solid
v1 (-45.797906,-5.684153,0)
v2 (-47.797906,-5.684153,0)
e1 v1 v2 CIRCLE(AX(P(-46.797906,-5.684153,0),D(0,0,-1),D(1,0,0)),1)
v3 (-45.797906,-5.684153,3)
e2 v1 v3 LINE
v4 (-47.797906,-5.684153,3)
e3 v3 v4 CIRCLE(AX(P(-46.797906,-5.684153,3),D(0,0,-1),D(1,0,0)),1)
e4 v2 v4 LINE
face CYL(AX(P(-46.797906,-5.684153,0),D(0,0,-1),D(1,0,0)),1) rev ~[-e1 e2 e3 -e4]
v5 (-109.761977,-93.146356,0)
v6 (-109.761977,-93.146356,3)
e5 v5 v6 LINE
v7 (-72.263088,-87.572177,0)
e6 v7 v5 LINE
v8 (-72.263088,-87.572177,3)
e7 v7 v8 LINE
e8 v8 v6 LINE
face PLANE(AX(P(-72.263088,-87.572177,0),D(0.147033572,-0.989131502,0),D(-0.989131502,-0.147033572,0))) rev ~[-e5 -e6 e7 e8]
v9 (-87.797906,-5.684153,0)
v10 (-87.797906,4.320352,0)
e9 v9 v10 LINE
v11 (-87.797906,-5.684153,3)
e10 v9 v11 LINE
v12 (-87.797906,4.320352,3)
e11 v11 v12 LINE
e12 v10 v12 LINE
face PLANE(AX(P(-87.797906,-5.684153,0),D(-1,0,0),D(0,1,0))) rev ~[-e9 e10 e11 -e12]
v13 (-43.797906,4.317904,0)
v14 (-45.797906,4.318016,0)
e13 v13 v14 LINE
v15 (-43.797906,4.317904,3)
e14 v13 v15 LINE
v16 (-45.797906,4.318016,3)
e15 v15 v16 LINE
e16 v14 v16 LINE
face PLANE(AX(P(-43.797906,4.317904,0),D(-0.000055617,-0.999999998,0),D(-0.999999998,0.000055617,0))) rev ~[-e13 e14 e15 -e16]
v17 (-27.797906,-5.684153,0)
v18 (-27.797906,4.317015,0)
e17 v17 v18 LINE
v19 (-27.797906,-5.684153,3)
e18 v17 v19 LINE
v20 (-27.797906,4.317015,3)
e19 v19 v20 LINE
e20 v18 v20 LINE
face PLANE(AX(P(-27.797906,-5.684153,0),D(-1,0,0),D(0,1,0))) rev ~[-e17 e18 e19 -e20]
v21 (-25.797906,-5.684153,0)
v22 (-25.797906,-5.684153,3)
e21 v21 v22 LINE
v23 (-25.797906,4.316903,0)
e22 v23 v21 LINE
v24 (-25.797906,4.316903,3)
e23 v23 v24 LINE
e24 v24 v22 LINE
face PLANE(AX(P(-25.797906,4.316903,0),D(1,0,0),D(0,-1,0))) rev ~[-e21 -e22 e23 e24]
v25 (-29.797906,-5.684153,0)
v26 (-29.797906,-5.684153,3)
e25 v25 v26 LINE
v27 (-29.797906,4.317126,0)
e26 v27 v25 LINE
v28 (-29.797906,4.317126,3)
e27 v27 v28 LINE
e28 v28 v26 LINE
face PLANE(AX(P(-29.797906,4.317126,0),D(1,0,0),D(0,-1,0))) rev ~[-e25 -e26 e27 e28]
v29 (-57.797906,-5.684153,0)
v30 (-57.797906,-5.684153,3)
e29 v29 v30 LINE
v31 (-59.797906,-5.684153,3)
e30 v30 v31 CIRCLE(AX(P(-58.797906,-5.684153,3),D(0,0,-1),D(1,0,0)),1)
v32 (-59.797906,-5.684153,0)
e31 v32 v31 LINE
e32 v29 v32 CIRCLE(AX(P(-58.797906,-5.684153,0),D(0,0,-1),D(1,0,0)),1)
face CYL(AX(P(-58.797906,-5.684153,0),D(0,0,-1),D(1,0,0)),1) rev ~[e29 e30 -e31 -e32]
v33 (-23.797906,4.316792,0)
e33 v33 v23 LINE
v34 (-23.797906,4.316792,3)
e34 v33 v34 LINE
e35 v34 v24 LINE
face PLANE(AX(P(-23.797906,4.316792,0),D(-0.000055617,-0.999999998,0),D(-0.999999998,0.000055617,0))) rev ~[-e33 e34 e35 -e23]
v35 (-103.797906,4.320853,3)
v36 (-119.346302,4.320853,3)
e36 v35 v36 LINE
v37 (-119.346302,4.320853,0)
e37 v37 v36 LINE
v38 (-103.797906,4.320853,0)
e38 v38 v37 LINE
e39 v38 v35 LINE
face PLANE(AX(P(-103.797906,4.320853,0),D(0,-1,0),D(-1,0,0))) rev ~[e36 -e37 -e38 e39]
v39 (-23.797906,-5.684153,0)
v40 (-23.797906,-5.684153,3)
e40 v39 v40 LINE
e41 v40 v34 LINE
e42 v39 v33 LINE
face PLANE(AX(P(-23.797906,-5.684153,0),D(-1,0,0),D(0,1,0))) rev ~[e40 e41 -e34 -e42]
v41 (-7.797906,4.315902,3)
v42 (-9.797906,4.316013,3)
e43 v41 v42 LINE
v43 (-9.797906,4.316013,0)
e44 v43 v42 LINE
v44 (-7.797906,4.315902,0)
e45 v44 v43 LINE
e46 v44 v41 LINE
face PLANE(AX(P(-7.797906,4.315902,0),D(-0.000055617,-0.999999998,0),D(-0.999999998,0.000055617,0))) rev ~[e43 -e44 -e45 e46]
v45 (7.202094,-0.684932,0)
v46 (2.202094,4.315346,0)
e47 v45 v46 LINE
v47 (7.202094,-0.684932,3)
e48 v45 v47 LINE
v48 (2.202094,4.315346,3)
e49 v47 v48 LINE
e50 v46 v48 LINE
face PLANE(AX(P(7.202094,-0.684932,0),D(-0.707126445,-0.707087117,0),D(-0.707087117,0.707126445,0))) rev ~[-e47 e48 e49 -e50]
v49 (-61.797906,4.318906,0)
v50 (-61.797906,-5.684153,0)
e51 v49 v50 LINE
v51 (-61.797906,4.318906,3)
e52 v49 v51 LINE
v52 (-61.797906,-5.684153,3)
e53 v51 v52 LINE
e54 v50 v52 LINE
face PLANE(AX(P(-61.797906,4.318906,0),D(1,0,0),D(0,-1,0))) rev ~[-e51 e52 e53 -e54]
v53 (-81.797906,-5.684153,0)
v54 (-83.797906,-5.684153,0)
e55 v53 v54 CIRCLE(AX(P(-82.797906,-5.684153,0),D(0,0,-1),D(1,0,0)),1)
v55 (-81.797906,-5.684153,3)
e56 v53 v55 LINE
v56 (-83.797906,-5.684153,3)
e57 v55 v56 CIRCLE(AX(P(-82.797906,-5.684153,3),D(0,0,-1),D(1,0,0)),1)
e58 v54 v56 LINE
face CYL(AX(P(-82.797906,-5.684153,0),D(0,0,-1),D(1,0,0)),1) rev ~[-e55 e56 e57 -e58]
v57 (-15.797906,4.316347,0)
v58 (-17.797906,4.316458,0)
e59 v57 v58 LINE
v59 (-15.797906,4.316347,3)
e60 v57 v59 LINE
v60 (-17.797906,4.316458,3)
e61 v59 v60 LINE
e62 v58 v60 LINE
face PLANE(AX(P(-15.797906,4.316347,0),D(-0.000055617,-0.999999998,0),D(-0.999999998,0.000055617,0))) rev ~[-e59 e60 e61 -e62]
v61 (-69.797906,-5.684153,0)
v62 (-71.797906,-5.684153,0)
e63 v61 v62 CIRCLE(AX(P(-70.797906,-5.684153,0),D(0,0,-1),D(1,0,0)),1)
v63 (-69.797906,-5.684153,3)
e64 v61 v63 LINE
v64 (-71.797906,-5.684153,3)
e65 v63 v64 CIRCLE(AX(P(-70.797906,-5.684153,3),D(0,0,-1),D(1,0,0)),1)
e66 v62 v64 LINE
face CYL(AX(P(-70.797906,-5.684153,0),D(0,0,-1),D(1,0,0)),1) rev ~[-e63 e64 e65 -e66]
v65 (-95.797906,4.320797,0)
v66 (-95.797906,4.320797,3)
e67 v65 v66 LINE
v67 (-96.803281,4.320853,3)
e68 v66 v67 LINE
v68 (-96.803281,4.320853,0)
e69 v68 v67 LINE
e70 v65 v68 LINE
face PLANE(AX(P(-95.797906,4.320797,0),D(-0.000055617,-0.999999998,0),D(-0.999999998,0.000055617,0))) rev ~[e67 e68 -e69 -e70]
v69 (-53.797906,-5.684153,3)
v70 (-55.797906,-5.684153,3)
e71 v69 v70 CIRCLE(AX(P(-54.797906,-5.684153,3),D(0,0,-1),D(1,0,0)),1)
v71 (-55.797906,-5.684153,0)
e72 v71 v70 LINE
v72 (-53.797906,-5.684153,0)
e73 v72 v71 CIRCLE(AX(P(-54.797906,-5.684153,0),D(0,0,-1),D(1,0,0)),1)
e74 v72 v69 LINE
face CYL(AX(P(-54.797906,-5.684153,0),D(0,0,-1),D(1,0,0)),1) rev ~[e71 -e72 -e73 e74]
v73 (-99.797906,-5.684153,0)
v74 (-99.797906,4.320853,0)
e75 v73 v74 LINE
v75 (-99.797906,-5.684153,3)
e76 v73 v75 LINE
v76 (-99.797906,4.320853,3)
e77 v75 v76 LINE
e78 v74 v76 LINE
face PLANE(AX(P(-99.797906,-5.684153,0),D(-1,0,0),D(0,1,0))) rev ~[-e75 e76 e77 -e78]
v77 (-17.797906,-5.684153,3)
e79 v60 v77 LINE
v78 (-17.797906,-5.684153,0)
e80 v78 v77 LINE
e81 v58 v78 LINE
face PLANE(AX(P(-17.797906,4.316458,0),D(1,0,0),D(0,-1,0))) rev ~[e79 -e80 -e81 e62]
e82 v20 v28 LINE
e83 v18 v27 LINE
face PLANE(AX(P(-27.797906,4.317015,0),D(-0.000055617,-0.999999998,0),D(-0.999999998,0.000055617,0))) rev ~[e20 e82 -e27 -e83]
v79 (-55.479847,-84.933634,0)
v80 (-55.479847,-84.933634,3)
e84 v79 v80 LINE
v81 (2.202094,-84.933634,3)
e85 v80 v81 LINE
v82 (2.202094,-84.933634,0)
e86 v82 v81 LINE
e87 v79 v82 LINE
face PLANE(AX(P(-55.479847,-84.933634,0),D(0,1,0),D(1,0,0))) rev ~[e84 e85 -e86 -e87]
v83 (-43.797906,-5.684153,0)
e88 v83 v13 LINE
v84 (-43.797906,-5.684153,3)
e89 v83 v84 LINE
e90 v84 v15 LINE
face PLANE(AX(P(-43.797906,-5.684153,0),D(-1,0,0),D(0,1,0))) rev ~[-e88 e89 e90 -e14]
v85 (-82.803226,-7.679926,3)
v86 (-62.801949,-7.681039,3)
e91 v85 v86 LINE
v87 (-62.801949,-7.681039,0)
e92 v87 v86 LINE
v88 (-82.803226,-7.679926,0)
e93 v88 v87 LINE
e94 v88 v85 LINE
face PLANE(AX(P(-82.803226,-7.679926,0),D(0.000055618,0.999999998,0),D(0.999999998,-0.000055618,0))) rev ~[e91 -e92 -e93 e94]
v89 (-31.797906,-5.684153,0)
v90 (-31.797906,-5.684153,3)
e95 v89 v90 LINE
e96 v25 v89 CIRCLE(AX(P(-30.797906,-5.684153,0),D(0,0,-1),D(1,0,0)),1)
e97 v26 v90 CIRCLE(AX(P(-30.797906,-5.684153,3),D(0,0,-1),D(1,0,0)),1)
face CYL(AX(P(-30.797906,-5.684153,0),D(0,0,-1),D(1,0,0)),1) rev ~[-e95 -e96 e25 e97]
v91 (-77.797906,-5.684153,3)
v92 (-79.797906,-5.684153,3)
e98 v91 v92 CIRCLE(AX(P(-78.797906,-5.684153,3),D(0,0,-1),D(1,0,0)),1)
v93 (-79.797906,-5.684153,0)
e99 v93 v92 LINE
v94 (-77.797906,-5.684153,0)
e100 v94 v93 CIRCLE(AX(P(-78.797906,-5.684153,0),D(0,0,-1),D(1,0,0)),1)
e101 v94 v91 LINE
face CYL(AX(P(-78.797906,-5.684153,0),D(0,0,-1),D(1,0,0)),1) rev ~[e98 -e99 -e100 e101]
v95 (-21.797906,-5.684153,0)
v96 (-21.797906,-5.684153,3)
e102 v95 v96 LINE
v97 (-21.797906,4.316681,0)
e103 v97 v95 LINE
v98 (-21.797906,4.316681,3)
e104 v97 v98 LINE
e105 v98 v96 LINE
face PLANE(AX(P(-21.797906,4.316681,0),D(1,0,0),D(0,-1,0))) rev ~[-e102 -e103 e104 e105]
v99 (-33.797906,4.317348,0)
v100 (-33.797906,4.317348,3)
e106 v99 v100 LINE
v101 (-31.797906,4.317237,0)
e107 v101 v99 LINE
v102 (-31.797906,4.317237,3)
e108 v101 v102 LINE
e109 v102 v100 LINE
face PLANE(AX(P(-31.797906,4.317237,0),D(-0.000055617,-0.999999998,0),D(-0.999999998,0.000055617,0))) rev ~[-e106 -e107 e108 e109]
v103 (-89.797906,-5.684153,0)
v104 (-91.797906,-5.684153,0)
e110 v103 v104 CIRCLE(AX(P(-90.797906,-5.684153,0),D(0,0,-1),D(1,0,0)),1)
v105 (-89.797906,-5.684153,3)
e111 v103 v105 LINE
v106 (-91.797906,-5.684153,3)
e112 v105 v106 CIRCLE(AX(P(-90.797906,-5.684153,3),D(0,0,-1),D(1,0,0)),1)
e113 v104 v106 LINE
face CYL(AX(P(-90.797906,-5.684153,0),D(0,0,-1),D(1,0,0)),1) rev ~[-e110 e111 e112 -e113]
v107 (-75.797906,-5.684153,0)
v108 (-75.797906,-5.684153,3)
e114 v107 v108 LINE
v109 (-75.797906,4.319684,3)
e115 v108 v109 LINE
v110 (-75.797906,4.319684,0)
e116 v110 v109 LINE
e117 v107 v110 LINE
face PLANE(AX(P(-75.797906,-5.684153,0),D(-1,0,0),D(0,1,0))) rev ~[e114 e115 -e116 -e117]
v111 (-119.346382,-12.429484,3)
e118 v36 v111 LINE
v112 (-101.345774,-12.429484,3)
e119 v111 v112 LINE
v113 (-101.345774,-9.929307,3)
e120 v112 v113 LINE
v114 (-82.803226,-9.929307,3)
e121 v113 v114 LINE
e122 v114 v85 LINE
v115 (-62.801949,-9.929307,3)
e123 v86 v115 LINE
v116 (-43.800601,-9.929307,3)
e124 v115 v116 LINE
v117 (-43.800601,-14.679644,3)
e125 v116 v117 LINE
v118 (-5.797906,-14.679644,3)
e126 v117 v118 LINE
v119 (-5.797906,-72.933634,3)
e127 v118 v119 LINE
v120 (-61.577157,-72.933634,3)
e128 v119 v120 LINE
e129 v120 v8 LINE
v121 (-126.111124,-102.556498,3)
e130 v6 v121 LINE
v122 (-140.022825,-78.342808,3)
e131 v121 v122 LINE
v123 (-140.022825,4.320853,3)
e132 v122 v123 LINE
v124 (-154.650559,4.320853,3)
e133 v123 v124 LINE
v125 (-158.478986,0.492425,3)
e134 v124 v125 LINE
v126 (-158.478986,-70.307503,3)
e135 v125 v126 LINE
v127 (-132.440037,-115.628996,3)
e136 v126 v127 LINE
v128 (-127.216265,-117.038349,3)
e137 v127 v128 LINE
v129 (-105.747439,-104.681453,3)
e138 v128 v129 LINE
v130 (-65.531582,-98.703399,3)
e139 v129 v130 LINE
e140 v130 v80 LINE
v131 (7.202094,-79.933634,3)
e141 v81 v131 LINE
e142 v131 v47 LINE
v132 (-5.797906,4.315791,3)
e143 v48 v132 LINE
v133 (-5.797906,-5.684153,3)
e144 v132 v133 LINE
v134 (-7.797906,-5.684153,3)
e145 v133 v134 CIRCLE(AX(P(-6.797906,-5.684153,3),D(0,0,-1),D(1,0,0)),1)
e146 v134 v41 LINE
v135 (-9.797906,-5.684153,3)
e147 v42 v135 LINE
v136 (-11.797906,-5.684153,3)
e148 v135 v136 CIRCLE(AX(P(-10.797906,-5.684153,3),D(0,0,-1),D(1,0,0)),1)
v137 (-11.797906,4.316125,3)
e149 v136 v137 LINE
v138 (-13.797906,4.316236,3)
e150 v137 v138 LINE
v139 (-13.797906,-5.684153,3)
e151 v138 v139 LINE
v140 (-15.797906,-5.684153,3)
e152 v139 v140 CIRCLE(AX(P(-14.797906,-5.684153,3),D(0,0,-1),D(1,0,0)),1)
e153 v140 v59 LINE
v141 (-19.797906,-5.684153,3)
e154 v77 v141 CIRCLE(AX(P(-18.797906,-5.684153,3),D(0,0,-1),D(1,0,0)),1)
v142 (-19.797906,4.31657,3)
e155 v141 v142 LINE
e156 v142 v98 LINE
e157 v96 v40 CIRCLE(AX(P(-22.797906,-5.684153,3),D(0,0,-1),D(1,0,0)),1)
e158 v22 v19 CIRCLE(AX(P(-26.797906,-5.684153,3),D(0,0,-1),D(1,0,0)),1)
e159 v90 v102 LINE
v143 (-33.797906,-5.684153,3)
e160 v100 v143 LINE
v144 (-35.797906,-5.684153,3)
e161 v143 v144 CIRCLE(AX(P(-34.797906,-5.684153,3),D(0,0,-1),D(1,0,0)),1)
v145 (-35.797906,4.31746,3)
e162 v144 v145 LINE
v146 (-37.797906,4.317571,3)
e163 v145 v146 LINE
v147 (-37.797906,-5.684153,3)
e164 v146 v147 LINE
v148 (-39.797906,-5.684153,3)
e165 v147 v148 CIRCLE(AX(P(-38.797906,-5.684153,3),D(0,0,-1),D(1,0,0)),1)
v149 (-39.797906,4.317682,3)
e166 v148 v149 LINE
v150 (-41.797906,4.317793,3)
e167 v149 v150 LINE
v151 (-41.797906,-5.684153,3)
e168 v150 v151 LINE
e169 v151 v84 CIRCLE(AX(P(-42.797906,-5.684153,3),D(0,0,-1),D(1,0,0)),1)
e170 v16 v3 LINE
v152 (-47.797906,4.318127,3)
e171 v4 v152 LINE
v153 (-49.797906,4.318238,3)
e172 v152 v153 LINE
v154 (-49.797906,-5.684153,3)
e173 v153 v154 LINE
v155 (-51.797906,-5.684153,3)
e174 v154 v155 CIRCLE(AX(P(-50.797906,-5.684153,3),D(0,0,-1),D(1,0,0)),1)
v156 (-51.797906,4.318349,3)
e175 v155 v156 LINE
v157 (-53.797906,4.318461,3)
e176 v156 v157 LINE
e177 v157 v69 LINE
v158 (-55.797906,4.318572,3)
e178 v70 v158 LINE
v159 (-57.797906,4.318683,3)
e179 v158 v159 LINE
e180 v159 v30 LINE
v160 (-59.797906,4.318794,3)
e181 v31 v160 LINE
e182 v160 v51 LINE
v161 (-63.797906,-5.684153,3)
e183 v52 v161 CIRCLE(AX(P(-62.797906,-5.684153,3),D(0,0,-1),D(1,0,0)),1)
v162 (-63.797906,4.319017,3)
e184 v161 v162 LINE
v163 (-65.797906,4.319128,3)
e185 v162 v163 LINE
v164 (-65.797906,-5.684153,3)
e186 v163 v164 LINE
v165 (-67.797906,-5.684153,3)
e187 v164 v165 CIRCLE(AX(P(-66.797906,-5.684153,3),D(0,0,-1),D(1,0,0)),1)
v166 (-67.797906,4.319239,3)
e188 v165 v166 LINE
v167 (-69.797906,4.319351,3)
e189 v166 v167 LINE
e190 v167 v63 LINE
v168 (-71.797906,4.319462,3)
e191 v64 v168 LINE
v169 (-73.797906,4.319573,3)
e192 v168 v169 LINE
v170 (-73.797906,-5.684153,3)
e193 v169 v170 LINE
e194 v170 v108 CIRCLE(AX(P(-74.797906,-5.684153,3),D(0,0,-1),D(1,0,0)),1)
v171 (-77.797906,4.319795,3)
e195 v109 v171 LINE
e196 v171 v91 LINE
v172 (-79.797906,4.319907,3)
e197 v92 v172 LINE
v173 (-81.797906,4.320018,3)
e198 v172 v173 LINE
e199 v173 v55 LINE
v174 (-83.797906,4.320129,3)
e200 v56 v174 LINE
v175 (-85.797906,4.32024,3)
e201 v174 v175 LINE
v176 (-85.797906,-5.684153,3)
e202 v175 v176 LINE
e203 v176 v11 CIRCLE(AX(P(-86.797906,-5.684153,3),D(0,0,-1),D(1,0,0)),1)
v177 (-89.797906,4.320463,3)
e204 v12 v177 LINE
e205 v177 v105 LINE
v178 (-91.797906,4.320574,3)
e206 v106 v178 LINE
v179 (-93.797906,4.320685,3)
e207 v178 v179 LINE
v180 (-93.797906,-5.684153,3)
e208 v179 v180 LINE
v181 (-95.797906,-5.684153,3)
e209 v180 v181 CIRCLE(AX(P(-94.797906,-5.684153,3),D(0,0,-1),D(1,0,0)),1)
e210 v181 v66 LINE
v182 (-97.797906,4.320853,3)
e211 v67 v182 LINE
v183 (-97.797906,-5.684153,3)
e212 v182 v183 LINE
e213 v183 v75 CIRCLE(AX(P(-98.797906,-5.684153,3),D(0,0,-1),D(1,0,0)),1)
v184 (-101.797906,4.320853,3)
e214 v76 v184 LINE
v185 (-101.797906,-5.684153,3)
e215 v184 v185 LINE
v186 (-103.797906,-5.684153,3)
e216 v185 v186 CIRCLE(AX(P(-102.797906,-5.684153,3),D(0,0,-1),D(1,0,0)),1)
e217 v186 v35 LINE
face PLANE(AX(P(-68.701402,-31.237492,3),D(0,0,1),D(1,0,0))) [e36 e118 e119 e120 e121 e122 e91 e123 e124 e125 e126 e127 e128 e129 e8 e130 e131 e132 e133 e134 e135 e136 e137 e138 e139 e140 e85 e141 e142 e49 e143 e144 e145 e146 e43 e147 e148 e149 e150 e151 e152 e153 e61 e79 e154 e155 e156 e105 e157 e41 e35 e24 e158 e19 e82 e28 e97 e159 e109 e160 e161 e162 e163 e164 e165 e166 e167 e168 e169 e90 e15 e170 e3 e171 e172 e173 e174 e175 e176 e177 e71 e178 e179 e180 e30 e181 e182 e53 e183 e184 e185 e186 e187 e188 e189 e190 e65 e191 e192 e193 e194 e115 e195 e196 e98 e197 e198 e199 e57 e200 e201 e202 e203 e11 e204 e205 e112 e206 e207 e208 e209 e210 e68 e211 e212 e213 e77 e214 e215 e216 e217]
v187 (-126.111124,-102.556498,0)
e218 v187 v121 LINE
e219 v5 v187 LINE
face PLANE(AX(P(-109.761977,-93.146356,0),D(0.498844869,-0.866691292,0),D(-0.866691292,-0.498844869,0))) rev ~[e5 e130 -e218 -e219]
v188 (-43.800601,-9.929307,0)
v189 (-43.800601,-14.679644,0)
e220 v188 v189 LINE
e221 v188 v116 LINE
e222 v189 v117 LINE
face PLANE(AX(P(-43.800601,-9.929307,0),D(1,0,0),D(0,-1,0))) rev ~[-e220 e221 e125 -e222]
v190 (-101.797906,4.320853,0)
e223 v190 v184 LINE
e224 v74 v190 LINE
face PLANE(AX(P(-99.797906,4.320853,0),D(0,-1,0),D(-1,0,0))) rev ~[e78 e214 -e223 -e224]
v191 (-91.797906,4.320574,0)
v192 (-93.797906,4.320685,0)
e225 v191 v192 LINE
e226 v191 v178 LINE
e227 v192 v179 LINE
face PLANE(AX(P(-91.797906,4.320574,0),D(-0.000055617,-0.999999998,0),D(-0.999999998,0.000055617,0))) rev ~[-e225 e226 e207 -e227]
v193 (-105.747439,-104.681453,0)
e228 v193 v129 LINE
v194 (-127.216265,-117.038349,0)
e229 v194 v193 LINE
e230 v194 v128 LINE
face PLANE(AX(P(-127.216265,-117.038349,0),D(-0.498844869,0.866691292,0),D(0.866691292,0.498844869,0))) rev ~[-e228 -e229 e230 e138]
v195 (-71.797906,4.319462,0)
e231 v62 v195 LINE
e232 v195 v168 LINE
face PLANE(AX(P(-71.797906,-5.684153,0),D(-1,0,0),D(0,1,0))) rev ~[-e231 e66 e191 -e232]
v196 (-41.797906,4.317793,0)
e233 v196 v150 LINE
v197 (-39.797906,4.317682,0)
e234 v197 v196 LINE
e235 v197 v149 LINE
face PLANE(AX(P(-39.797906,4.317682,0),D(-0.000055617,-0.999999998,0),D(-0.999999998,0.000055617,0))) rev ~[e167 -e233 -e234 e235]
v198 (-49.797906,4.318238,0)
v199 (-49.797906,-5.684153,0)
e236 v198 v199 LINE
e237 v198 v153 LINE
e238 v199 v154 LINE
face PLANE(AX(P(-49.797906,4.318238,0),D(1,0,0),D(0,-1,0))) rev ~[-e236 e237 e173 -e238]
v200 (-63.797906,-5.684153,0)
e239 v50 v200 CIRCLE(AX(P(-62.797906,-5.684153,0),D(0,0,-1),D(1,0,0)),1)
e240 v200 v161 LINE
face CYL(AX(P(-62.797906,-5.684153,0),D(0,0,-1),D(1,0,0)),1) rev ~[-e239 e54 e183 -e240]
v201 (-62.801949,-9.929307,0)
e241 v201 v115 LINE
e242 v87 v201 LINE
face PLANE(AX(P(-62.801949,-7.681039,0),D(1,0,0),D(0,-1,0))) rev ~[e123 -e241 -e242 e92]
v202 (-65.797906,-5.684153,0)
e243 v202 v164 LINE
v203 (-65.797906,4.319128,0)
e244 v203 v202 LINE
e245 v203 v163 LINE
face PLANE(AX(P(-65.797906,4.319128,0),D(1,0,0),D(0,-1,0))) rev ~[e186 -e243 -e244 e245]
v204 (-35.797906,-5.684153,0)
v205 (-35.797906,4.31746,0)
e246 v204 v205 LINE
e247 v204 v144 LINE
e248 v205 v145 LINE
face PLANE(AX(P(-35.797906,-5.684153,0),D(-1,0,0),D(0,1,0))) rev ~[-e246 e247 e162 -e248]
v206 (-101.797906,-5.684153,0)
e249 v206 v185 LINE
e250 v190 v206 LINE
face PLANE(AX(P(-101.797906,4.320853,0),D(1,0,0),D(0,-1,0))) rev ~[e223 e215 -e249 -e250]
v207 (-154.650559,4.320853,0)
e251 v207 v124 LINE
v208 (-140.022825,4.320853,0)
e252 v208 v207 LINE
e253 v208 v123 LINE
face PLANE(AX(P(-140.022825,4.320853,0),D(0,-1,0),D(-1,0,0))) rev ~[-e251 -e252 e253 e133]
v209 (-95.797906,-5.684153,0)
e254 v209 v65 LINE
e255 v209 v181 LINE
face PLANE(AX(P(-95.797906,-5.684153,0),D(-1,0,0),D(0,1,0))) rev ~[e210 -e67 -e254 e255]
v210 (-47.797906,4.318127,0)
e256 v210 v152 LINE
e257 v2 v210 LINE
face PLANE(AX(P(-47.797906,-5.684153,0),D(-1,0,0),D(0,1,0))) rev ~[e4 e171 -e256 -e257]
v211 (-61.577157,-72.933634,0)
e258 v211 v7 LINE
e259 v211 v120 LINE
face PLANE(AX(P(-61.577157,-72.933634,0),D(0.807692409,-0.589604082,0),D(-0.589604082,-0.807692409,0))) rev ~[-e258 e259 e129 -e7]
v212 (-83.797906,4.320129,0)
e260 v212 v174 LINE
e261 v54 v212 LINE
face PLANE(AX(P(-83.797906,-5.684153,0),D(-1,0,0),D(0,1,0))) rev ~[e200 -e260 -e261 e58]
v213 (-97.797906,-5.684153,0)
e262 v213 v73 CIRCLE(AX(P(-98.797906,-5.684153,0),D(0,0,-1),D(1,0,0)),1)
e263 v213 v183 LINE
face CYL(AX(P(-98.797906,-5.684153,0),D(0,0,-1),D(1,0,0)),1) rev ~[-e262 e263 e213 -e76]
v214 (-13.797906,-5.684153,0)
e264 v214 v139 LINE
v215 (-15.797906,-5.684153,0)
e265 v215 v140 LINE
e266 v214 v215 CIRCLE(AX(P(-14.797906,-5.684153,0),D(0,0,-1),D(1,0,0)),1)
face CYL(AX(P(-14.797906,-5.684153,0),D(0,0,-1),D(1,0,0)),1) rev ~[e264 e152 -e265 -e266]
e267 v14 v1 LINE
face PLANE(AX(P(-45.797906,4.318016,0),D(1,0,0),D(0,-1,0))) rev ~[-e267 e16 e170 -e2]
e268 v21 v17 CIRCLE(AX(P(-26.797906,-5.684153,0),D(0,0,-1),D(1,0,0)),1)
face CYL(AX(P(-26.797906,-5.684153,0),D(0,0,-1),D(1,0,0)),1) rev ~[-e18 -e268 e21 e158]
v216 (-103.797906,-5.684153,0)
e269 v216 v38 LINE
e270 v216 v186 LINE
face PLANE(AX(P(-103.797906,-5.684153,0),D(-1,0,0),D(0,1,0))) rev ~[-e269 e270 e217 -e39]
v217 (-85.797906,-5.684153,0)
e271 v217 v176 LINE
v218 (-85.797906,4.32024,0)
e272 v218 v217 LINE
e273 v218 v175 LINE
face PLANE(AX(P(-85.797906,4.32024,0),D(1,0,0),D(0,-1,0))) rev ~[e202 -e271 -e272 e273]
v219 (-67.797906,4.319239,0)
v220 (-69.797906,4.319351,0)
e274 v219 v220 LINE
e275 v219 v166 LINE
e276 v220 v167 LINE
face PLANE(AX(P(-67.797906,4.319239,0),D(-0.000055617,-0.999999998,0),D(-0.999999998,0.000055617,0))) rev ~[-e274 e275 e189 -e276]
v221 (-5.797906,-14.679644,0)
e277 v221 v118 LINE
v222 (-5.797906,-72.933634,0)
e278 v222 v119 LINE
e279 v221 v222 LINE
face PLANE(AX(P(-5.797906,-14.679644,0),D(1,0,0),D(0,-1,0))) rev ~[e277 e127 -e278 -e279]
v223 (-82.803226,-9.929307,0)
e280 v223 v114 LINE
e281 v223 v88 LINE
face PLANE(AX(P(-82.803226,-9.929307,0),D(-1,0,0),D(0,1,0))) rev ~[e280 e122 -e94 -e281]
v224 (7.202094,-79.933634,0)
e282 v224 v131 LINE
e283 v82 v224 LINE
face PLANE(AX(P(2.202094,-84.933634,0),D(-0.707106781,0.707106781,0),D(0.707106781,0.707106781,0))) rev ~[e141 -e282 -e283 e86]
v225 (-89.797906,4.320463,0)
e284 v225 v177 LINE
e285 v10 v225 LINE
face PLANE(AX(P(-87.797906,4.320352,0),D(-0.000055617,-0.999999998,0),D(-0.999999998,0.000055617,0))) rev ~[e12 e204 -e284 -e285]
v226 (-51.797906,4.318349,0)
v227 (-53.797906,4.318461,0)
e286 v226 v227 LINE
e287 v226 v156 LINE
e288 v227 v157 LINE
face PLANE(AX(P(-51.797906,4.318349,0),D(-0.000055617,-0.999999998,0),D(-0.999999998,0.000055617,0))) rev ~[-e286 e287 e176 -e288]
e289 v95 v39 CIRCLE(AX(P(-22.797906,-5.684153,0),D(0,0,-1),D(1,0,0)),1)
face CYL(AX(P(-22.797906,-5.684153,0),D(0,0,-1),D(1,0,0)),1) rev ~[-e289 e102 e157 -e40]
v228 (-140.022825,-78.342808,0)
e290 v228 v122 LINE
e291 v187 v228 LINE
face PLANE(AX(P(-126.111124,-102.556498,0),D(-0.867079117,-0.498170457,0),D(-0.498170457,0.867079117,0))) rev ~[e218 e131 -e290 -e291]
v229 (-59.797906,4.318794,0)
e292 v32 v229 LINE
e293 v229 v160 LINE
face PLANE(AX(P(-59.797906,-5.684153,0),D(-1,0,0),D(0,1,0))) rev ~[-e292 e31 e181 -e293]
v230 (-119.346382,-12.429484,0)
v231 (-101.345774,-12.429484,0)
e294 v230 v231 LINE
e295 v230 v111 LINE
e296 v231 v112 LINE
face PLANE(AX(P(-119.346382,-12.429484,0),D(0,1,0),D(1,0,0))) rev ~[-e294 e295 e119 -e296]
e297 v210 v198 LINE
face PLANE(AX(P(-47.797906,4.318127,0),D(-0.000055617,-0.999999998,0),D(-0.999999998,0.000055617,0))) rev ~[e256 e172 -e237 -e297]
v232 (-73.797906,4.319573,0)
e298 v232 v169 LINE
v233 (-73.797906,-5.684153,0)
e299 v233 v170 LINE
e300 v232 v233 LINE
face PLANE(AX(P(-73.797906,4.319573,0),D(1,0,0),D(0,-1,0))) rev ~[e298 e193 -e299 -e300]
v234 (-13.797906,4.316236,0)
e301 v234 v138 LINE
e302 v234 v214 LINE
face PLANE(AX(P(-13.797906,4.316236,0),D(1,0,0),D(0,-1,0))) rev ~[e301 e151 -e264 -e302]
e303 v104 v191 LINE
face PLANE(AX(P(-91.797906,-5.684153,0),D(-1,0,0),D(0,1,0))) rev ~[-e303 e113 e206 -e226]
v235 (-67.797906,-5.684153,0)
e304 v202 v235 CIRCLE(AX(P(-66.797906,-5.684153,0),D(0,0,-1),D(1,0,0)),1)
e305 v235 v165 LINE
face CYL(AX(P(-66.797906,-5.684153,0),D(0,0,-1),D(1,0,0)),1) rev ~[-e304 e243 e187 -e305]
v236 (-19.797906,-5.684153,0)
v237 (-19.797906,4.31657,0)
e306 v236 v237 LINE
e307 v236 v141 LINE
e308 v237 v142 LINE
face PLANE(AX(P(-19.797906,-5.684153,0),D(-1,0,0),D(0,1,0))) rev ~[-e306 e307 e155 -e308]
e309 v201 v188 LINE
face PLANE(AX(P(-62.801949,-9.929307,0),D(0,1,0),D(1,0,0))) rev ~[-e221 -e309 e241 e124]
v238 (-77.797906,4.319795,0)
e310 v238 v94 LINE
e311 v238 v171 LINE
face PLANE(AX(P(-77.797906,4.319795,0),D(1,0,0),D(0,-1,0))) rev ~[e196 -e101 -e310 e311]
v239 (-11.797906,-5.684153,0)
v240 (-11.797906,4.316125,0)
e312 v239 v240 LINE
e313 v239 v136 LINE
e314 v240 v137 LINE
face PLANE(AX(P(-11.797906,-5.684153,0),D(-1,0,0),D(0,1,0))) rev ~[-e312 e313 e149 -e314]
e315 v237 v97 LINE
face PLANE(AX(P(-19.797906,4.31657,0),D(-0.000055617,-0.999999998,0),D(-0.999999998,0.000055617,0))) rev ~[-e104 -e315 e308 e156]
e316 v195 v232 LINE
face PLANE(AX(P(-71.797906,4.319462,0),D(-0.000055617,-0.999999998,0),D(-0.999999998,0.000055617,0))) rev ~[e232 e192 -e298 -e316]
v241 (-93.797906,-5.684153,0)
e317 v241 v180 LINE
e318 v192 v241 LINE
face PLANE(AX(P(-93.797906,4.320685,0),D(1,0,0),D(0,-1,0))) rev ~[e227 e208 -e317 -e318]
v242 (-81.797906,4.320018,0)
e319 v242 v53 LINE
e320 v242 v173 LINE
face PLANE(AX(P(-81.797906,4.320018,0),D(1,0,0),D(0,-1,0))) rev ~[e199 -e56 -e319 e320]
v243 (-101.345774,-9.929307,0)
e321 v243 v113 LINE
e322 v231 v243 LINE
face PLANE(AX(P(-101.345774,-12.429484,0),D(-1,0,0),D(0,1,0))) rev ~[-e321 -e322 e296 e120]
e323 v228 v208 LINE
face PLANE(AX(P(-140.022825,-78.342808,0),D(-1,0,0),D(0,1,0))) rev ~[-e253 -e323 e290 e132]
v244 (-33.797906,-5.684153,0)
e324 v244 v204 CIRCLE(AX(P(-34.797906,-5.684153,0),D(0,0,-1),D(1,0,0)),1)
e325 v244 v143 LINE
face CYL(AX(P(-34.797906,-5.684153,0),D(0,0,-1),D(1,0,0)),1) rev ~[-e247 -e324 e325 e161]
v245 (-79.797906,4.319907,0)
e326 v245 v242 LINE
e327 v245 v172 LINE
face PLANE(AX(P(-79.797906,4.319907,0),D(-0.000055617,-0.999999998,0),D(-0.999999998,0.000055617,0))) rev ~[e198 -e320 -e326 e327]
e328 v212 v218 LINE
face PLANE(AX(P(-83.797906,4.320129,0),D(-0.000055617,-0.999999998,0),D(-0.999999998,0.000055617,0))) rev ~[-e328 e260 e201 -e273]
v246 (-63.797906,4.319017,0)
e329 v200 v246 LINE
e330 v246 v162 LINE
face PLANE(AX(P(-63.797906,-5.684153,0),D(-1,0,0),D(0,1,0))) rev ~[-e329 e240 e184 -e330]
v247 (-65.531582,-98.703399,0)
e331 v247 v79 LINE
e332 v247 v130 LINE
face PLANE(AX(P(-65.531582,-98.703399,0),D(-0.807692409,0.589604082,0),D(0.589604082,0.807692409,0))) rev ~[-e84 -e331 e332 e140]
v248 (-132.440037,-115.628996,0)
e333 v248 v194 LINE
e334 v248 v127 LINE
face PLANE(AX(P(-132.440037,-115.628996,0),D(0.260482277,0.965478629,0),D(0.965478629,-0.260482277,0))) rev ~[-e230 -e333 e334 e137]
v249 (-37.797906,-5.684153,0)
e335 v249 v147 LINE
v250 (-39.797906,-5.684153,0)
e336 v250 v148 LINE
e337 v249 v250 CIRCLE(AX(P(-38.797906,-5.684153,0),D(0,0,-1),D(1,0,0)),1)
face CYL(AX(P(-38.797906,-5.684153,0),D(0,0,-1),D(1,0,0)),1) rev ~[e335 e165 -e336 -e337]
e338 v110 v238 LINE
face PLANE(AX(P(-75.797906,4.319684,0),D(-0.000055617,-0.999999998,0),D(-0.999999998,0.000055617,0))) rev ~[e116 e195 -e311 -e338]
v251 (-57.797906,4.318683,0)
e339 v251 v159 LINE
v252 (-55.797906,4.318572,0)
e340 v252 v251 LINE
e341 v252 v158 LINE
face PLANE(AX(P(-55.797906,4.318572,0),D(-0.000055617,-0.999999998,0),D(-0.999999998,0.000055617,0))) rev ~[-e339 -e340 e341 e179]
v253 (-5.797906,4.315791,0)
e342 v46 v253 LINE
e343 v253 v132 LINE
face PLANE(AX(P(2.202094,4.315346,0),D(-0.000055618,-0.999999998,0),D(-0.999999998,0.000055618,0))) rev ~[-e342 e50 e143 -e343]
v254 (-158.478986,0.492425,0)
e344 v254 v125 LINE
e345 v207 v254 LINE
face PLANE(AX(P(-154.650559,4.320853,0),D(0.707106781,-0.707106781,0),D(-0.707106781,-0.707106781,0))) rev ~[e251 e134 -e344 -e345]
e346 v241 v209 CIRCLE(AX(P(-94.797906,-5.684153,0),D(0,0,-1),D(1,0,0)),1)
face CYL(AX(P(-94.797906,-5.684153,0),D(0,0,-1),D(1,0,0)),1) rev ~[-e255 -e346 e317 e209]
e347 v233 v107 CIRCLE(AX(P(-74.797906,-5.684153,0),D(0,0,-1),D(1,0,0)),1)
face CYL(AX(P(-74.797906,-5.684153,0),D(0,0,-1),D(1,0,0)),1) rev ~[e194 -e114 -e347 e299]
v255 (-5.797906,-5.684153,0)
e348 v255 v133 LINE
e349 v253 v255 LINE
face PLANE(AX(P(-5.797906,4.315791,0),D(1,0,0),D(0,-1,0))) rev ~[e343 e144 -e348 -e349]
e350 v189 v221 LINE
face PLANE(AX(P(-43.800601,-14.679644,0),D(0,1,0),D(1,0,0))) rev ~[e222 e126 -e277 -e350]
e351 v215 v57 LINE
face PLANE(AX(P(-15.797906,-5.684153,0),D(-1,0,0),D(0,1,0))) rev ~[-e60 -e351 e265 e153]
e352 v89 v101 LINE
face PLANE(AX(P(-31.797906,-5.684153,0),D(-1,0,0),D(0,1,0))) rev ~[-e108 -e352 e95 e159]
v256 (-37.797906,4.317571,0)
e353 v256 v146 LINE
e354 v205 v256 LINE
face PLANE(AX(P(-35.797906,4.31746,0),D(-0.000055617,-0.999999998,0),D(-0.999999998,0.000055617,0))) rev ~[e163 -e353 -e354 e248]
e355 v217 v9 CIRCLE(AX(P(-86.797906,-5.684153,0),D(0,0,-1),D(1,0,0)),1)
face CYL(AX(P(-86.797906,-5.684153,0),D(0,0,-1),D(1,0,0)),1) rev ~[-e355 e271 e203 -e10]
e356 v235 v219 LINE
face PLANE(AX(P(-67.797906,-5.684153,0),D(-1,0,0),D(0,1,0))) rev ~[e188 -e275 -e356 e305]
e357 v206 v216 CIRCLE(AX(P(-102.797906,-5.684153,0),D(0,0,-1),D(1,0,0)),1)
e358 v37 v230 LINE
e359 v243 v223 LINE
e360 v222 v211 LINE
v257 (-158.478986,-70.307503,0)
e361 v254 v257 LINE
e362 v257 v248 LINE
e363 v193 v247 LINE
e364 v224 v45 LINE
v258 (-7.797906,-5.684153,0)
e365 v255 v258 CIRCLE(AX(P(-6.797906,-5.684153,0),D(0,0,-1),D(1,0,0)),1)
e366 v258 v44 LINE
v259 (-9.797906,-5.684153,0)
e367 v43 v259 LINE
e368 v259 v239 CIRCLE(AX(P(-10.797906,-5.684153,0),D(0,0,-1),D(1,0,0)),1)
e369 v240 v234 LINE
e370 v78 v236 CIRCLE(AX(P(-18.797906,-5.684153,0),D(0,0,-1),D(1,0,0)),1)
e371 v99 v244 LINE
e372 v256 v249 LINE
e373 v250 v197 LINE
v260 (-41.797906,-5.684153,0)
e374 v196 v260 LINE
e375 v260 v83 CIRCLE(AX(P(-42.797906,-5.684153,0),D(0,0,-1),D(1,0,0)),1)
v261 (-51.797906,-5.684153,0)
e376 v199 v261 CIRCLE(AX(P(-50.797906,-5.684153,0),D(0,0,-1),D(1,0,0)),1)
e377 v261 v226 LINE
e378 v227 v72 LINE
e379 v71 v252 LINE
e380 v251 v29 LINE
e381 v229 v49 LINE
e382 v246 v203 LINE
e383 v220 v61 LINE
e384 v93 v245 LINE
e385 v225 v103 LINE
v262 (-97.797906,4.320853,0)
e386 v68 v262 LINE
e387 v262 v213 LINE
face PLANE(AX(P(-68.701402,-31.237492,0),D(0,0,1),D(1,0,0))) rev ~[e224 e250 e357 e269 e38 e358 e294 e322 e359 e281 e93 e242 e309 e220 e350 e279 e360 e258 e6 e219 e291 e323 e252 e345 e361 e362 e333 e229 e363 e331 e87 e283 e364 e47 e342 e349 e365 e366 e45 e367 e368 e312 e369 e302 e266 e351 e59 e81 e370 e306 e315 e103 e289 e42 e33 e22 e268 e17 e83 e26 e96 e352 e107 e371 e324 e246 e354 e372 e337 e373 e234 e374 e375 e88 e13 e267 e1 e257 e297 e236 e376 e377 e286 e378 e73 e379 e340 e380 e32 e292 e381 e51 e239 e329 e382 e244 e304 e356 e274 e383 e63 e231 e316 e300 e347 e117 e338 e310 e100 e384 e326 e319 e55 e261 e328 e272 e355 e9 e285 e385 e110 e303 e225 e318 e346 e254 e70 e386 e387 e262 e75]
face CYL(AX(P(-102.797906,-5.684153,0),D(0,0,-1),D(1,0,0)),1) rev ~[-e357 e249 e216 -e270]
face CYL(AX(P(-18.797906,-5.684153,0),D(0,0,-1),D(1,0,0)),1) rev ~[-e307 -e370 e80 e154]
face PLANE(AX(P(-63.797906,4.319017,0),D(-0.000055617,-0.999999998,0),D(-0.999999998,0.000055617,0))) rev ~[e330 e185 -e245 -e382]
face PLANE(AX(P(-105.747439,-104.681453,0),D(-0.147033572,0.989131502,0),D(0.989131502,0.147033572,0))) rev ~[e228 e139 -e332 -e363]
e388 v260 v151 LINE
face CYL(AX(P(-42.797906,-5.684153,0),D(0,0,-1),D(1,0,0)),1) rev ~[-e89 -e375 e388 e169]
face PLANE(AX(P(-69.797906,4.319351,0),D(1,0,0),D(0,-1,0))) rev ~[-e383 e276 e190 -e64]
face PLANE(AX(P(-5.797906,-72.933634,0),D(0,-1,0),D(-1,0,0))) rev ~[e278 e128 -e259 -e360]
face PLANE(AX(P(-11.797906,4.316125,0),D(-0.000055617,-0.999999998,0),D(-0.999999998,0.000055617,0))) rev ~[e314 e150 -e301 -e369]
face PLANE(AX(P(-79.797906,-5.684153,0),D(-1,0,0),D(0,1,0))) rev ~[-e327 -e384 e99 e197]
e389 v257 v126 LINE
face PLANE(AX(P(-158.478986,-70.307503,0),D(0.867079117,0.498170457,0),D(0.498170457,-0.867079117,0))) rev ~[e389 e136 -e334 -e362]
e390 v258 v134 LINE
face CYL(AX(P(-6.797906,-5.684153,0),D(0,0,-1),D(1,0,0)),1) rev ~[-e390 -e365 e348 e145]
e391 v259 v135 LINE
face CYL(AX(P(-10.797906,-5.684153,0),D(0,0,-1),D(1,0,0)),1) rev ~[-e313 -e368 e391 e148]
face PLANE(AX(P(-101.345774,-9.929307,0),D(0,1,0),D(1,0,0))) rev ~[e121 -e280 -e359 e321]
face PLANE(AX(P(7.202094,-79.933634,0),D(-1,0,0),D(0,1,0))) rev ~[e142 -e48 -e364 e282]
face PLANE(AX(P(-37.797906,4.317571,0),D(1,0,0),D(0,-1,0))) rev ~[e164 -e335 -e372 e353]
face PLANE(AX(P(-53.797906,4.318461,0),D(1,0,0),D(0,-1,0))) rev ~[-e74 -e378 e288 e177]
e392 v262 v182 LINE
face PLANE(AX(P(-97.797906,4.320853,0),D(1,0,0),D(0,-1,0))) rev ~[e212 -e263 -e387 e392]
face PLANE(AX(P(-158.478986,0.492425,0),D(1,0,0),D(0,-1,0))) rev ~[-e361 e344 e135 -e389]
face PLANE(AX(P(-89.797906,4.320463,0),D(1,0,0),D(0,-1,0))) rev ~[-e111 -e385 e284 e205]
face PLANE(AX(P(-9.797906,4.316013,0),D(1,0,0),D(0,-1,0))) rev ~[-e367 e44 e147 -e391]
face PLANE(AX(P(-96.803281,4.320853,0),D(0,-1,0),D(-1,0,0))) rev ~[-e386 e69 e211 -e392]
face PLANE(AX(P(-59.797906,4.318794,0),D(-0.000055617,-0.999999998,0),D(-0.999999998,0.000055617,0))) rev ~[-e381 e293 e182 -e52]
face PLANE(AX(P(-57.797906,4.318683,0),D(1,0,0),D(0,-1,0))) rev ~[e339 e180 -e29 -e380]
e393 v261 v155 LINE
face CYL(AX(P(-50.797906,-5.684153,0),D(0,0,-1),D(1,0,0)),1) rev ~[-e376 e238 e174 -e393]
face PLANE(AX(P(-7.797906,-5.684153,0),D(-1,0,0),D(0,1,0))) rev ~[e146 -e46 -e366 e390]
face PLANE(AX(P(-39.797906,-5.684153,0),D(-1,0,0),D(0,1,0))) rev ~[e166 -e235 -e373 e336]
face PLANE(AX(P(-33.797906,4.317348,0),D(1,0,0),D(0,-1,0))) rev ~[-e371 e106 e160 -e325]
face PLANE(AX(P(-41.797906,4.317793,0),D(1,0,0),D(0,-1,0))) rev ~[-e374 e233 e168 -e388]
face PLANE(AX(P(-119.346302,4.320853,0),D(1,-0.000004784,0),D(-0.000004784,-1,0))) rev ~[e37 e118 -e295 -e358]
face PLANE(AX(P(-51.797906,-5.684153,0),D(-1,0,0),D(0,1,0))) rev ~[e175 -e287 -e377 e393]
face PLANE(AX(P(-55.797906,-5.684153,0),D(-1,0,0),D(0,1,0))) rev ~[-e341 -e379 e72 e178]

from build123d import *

# Parameters (mm, degrees)
BOSS_EXTRU_1_DEPTH = 3


with BuildPart() as part:
    # Esquisse1 → Boss.-Extru.1 (new body)
    with BuildSketch(Plane.XY):
        with BuildLine():
            Line((-119.34630187, 4.320852512), (-119.346382005, -12.429484403))
            Line((-119.346382005, -12.429484403), (-101.345774335, -12.429484403))
            Line((-101.345774335, -12.429484403), (-101.345774335, -9.929307079))
            Line((-101.345774335, -9.929307079), (-82.803225752, -9.929307079))
            Line((-82.803225752, -9.929307079), (-82.803225752, -7.679926158))
            Line((-82.803225752, -7.679926158), (-62.801949021, -7.681038584))
            Line((-62.801949021, -7.681038584), (-62.801949021, -9.929307079))
            Line((-62.801949021, -9.929307079), (-43.80060136, -9.929307079))
            Line((-43.80060136, -9.929307079), (-43.80060136, -14.679643994))
            Line((-43.80060136, -14.679643994), (-5.797906039, -14.679643994))
            Line((-5.797906039, -14.679643994), (-5.797906039, -72.933633781))
            Line((-5.797906039, -72.933633781), (-61.577157206, -72.933633781))
            Line((-61.577157206, -72.933633781), (-72.263087593, -87.572177036))
            Line((-72.263087593, -87.572177036), (-109.761976756, -93.1463556))
            Line((-109.761976756, -93.1463556), (-126.111124489, -102.556497988))
            Line((-126.111124489, -102.556497988), (-140.02282508, -78.342807898))
            Line((-140.02282508, -78.342807898), (-140.02282508, 4.320852512))
            Line((-140.02282508, 4.320852512), (-142.02282508, 4.320852512))
            Line((-142.02282508, 4.320852512), (-154.65055875, 4.320852512))
            Line((-154.65055875, 4.320852512), (-158.478985875, 0.492425388))
            Line((-158.478985875, 0.492425388), (-158.478985875, -3.429484403))
            Line((-158.478985875, -3.429484403), (-158.478985875, -70.307502815))
            Line((-158.478985875, -70.307502815), (-132.440036759, -115.628996046))
            Line((-132.440036759, -115.628996046), (-127.216265437, -117.03834868))
            Line((-127.216265437, -117.03834868), (-105.747438988, -104.681452952))
            Line((-105.747438988, -104.681452952), (-65.531582138, -98.70339941))
            Line((-65.531582138, -98.70339941), (-55.479847181, -84.933633781))
            Line((-55.479847181, -84.933633781), (2.202093961, -84.933633781))
            Line((2.202093961, -84.933633781), (7.202093961, -79.933633781))
            Line((7.202093961, -79.933633781), (7.202093961, -0.684932032))
            Line((7.202093961, -0.684932032), (2.202093969, 4.315346056))
            Line((2.202093969, 4.315346056), (-5.797906039, 4.315790998))
            Line((-5.797906039, 4.315790998), (-5.797906039, -5.684153384))
            ThreePointArc((-5.797906039, -5.684153384), (-6.797906039, -6.684153384), (-7.797906039, -5.684153384))
            Line((-7.797906039, -5.684153384), (-7.797906039, 4.315902234))
            Line((-7.797906039, 4.315902234), (-9.797906039, 4.316013469))
            Line((-9.797906039, 4.316013469), (-9.797906039, -5.684153384))
            ThreePointArc((-9.797906039, -5.684153384), (-10.797906039, -6.684153384), (-11.797906039, -5.684153384))
            Line((-11.797906039, -5.684153384), (-11.797906039, 4.316124705))
            Line((-11.797906039, 4.316124705), (-13.797906039, 4.31623594))
            Line((-13.797906039, 4.31623594), (-13.797906039, -5.684153384))
            ThreePointArc((-13.797906039, -5.684153384), (-14.797906039, -6.684153384), (-15.797906039, -5.684153384))
            Line((-15.797906039, -5.684153384), (-15.797906039, 4.316347176))
            Line((-15.797906039, 4.316347176), (-17.797906039, 4.316458411))
            Line((-17.797906039, 4.316458411), (-17.797906039, -5.684153384))
            ThreePointArc((-17.797906039, -5.684153384), (-18.797906039, -6.684153384), (-19.797906039, -5.684153384))
            Line((-19.797906039, -5.684153384), (-19.797906039, 4.316569647))
            Line((-19.797906039, 4.316569647), (-21.797906039, 4.316680882))
            Line((-21.797906039, 4.316680882), (-21.797906039, -5.684153384))
            ThreePointArc((-21.797906039, -5.684153384), (-22.797906039, -6.684153384), (-23.797906039, -5.684153384))
            Line((-23.797906039, -5.684153384), (-23.797906039, 4.316792118))
            Line((-23.797906039, 4.316792118), (-25.797906039, 4.316903353))
            Line((-25.797906039, 4.316903353), (-25.797906039, -5.684153384))
            ThreePointArc((-25.797906039, -5.684153384), (-26.797906039, -6.684153384), (-27.797906039, -5.684153384))
            Line((-27.797906039, -5.684153384), (-27.797906039, 4.317014589))
            Line((-27.797906039, 4.317014589), (-29.797906039, 4.317125824))
            Line((-29.797906039, 4.317125824), (-29.797906039, -5.684153384))
            ThreePointArc((-29.797906039, -5.684153384), (-30.797906039, -6.684153384), (-31.797906039, -5.684153384))
            Line((-31.797906039, -5.684153384), (-31.797906039, 4.31723706))
            Line((-31.797906039, 4.31723706), (-33.797906039, 4.317348295))
            Line((-33.797906039, 4.317348295), (-33.797906039, -5.684153384))
            ThreePointArc((-33.797906039, -5.684153384), (-34.797906039, -6.684153384), (-35.797906039, -5.684153384))
            Line((-35.797906039, -5.684153384), (-35.797906039, 4.317459531))
            Line((-35.797906039, 4.317459531), (-37.797906039, 4.317570766))
            Line((-37.797906039, 4.317570766), (-37.797906039, -5.684153384))
            ThreePointArc((-37.797906039, -5.684153384), (-38.797906039, -6.684153384), (-39.797906039, -5.684153384))
            Line((-39.797906039, -5.684153384), (-39.797906039, 4.317682002))
            Line((-39.797906039, 4.317682002), (-41.797906039, 4.317793237))
            Line((-41.797906039, 4.317793237), (-41.797906039, -5.684153384))
            ThreePointArc((-41.797906039, -5.684153384), (-42.797906039, -6.684153384), (-43.797906039, -5.684153384))
            Line((-43.797906039, -5.684153384), (-43.797906039, 4.317904473))
            Line((-43.797906039, 4.317904473), (-45.797906039, 4.318015708))
            Line((-45.797906039, 4.318015708), (-45.797906039, -5.684153384))
            ThreePointArc((-45.797906039, -5.684153384), (-46.797906039, -6.684153384), (-47.797906039, -5.684153384))
            Line((-47.797906039, -5.684153384), (-47.797906039, 4.318126944))
            Line((-47.797906039, 4.318126944), (-49.797906039, 4.318238179))
            Line((-49.797906039, 4.318238179), (-49.797906039, -5.684153384))
            ThreePointArc((-49.797906039, -5.684153384), (-50.797906039, -6.684153384), (-51.797906039, -5.684153384))
            Line((-51.797906039, -5.684153384), (-51.797906039, 4.318349415))
            Line((-51.797906039, 4.318349415), (-53.797906039, 4.31846065))
            Line((-53.797906039, 4.31846065), (-53.797906039, -5.684153384))
            ThreePointArc((-53.797906039, -5.684153384), (-54.797906039, -6.684153384), (-55.797906039, -5.684153384))
            Line((-55.797906039, -5.684153384), (-55.797906039, 4.318571886))
            Line((-55.797906039, 4.318571886), (-57.797906039, 4.318683121))
            Line((-57.797906039, 4.318683121), (-57.797906039, -5.684153384))
            ThreePointArc((-57.797906039, -5.684153384), (-58.797906039, -6.684153384), (-59.797906039, -5.684153384))
            Line((-59.797906039, -5.684153384), (-59.797906039, 4.318794357))
            Line((-59.797906039, 4.318794357), (-61.797906039, 4.318905592))
            Line((-61.797906039, 4.318905592), (-61.797906039, -5.684153384))
            ThreePointArc((-61.797906039, -5.684153384), (-62.797906039, -6.684153384), (-63.797906039, -5.684153384))
            Line((-63.797906039, -5.684153384), (-63.797906039, 4.319016828))
            Line((-63.797906039, 4.319016828), (-65.797906039, 4.319128063))
            Line((-65.797906039, 4.319128063), (-65.797906039, -5.684153384))
            ThreePointArc((-65.797906039, -5.684153384), (-66.797906039, -6.684153384), (-67.797906039, -5.684153384))
            Line((-67.797906039, -5.684153384), (-67.797906039, 4.319239299))
            Line((-67.797906039, 4.319239299), (-69.797906039, 4.319350534))
            Line((-69.797906039, 4.319350534), (-69.797906039, -5.684153384))
            ThreePointArc((-69.797906039, -5.684153384), (-70.797906039, -6.684153384), (-71.797906039, -5.684153384))
            Line((-71.797906039, -5.684153384), (-71.797906039, 4.31946177))
            Line((-71.797906039, 4.31946177), (-73.797906039, 4.319573005))
            Line((-73.797906039, 4.319573005), (-73.797906039, -5.684153384))
            ThreePointArc((-73.797906039, -5.684153384), (-74.797906039, -6.684153384), (-75.797906039, -5.684153384))
            Line((-75.797906039, -5.684153384), (-75.797906039, 4.319684241))
            Line((-75.797906039, 4.319684241), (-77.797906039, 4.319795476))
            Line((-77.797906039, 4.319795476), (-77.797906039, -5.684153384))
            ThreePointArc((-77.797906039, -5.684153384), (-78.797906039, -6.684153384), (-79.797906039, -5.684153384))
            Line((-79.797906039, -5.684153384), (-79.797906039, 4.319906712))
            Line((-79.797906039, 4.319906712), (-81.797906039, 4.320017947))
            Line((-81.797906039, 4.320017947), (-81.797906039, -5.684153384))
            ThreePointArc((-81.797906039, -5.684153384), (-82.797906039, -6.684153384), (-83.797906039, -5.684153384))
            Line((-83.797906039, -5.684153384), (-83.797906039, 4.320129183))
            Line((-83.797906039, 4.320129183), (-85.797906039, 4.320240418))
            Line((-85.797906039, 4.320240418), (-85.797906039, -5.684153384))
            ThreePointArc((-85.797906039, -5.684153384), (-86.797906039, -6.684153384), (-87.797906039, -5.684153384))
            Line((-87.797906039, -5.684153384), (-87.797906039, 4.320351654))
            Line((-87.797906039, 4.320351654), (-89.797906039, 4.320462889))
            Line((-89.797906039, 4.320462889), (-89.797906039, -5.684153384))
            ThreePointArc((-89.797906039, -5.684153384), (-90.797906039, -6.684153384), (-91.797906039, -5.684153384))
            Line((-91.797906039, -5.684153384), (-91.797906039, 4.320574125))
            Line((-91.797906039, 4.320574125), (-93.797906039, 4.32068536))
            Line((-93.797906039, 4.32068536), (-93.797906039, -5.684153384))
            ThreePointArc((-93.797906039, -5.684153384), (-94.797906039, -6.684153384), (-95.797906039, -5.684153384))
            Line((-95.797906039, -5.684153384), (-95.797906039, 4.320796596))
            Line((-95.797906039, 4.320796596), (-96.80328137, 4.320852512))
            Line((-96.80328137, 4.320852512), (-97.797906039, 4.320852512))
            Line((-97.797906039, 4.320852512), (-97.797906039, -5.684153384))
            ThreePointArc((-97.797906039, -5.684153384), (-98.797906039, -6.684153384), (-99.797906039, -5.684153384))
            Line((-99.797906039, -5.684153384), (-99.797906039, 4.320852512))
            Line((-99.797906039, 4.320852512), (-101.797906039, 4.320852512))
            Line((-101.797906039, 4.320852512), (-101.797906039, -5.684153384))
            ThreePointArc((-101.797906039, -5.684153384), (-102.797906039, -6.684153384), (-103.797906039, -5.684153384))
            Line((-103.797906039, -5.684153384), (-103.797906039, 4.320852512))
            Line((-103.797906039, 4.320852512), (-103.799739609, 4.320852512))
            Line((-103.799739609, 4.320852512), (-117.346315028, 4.320852512))
            Line((-117.346315028, 4.320852512), (-119.34630187, 4.320852512))
        make_face()
    extrude(amount=BOSS_EXTRU_1_DEPTH)


solid = part.part
